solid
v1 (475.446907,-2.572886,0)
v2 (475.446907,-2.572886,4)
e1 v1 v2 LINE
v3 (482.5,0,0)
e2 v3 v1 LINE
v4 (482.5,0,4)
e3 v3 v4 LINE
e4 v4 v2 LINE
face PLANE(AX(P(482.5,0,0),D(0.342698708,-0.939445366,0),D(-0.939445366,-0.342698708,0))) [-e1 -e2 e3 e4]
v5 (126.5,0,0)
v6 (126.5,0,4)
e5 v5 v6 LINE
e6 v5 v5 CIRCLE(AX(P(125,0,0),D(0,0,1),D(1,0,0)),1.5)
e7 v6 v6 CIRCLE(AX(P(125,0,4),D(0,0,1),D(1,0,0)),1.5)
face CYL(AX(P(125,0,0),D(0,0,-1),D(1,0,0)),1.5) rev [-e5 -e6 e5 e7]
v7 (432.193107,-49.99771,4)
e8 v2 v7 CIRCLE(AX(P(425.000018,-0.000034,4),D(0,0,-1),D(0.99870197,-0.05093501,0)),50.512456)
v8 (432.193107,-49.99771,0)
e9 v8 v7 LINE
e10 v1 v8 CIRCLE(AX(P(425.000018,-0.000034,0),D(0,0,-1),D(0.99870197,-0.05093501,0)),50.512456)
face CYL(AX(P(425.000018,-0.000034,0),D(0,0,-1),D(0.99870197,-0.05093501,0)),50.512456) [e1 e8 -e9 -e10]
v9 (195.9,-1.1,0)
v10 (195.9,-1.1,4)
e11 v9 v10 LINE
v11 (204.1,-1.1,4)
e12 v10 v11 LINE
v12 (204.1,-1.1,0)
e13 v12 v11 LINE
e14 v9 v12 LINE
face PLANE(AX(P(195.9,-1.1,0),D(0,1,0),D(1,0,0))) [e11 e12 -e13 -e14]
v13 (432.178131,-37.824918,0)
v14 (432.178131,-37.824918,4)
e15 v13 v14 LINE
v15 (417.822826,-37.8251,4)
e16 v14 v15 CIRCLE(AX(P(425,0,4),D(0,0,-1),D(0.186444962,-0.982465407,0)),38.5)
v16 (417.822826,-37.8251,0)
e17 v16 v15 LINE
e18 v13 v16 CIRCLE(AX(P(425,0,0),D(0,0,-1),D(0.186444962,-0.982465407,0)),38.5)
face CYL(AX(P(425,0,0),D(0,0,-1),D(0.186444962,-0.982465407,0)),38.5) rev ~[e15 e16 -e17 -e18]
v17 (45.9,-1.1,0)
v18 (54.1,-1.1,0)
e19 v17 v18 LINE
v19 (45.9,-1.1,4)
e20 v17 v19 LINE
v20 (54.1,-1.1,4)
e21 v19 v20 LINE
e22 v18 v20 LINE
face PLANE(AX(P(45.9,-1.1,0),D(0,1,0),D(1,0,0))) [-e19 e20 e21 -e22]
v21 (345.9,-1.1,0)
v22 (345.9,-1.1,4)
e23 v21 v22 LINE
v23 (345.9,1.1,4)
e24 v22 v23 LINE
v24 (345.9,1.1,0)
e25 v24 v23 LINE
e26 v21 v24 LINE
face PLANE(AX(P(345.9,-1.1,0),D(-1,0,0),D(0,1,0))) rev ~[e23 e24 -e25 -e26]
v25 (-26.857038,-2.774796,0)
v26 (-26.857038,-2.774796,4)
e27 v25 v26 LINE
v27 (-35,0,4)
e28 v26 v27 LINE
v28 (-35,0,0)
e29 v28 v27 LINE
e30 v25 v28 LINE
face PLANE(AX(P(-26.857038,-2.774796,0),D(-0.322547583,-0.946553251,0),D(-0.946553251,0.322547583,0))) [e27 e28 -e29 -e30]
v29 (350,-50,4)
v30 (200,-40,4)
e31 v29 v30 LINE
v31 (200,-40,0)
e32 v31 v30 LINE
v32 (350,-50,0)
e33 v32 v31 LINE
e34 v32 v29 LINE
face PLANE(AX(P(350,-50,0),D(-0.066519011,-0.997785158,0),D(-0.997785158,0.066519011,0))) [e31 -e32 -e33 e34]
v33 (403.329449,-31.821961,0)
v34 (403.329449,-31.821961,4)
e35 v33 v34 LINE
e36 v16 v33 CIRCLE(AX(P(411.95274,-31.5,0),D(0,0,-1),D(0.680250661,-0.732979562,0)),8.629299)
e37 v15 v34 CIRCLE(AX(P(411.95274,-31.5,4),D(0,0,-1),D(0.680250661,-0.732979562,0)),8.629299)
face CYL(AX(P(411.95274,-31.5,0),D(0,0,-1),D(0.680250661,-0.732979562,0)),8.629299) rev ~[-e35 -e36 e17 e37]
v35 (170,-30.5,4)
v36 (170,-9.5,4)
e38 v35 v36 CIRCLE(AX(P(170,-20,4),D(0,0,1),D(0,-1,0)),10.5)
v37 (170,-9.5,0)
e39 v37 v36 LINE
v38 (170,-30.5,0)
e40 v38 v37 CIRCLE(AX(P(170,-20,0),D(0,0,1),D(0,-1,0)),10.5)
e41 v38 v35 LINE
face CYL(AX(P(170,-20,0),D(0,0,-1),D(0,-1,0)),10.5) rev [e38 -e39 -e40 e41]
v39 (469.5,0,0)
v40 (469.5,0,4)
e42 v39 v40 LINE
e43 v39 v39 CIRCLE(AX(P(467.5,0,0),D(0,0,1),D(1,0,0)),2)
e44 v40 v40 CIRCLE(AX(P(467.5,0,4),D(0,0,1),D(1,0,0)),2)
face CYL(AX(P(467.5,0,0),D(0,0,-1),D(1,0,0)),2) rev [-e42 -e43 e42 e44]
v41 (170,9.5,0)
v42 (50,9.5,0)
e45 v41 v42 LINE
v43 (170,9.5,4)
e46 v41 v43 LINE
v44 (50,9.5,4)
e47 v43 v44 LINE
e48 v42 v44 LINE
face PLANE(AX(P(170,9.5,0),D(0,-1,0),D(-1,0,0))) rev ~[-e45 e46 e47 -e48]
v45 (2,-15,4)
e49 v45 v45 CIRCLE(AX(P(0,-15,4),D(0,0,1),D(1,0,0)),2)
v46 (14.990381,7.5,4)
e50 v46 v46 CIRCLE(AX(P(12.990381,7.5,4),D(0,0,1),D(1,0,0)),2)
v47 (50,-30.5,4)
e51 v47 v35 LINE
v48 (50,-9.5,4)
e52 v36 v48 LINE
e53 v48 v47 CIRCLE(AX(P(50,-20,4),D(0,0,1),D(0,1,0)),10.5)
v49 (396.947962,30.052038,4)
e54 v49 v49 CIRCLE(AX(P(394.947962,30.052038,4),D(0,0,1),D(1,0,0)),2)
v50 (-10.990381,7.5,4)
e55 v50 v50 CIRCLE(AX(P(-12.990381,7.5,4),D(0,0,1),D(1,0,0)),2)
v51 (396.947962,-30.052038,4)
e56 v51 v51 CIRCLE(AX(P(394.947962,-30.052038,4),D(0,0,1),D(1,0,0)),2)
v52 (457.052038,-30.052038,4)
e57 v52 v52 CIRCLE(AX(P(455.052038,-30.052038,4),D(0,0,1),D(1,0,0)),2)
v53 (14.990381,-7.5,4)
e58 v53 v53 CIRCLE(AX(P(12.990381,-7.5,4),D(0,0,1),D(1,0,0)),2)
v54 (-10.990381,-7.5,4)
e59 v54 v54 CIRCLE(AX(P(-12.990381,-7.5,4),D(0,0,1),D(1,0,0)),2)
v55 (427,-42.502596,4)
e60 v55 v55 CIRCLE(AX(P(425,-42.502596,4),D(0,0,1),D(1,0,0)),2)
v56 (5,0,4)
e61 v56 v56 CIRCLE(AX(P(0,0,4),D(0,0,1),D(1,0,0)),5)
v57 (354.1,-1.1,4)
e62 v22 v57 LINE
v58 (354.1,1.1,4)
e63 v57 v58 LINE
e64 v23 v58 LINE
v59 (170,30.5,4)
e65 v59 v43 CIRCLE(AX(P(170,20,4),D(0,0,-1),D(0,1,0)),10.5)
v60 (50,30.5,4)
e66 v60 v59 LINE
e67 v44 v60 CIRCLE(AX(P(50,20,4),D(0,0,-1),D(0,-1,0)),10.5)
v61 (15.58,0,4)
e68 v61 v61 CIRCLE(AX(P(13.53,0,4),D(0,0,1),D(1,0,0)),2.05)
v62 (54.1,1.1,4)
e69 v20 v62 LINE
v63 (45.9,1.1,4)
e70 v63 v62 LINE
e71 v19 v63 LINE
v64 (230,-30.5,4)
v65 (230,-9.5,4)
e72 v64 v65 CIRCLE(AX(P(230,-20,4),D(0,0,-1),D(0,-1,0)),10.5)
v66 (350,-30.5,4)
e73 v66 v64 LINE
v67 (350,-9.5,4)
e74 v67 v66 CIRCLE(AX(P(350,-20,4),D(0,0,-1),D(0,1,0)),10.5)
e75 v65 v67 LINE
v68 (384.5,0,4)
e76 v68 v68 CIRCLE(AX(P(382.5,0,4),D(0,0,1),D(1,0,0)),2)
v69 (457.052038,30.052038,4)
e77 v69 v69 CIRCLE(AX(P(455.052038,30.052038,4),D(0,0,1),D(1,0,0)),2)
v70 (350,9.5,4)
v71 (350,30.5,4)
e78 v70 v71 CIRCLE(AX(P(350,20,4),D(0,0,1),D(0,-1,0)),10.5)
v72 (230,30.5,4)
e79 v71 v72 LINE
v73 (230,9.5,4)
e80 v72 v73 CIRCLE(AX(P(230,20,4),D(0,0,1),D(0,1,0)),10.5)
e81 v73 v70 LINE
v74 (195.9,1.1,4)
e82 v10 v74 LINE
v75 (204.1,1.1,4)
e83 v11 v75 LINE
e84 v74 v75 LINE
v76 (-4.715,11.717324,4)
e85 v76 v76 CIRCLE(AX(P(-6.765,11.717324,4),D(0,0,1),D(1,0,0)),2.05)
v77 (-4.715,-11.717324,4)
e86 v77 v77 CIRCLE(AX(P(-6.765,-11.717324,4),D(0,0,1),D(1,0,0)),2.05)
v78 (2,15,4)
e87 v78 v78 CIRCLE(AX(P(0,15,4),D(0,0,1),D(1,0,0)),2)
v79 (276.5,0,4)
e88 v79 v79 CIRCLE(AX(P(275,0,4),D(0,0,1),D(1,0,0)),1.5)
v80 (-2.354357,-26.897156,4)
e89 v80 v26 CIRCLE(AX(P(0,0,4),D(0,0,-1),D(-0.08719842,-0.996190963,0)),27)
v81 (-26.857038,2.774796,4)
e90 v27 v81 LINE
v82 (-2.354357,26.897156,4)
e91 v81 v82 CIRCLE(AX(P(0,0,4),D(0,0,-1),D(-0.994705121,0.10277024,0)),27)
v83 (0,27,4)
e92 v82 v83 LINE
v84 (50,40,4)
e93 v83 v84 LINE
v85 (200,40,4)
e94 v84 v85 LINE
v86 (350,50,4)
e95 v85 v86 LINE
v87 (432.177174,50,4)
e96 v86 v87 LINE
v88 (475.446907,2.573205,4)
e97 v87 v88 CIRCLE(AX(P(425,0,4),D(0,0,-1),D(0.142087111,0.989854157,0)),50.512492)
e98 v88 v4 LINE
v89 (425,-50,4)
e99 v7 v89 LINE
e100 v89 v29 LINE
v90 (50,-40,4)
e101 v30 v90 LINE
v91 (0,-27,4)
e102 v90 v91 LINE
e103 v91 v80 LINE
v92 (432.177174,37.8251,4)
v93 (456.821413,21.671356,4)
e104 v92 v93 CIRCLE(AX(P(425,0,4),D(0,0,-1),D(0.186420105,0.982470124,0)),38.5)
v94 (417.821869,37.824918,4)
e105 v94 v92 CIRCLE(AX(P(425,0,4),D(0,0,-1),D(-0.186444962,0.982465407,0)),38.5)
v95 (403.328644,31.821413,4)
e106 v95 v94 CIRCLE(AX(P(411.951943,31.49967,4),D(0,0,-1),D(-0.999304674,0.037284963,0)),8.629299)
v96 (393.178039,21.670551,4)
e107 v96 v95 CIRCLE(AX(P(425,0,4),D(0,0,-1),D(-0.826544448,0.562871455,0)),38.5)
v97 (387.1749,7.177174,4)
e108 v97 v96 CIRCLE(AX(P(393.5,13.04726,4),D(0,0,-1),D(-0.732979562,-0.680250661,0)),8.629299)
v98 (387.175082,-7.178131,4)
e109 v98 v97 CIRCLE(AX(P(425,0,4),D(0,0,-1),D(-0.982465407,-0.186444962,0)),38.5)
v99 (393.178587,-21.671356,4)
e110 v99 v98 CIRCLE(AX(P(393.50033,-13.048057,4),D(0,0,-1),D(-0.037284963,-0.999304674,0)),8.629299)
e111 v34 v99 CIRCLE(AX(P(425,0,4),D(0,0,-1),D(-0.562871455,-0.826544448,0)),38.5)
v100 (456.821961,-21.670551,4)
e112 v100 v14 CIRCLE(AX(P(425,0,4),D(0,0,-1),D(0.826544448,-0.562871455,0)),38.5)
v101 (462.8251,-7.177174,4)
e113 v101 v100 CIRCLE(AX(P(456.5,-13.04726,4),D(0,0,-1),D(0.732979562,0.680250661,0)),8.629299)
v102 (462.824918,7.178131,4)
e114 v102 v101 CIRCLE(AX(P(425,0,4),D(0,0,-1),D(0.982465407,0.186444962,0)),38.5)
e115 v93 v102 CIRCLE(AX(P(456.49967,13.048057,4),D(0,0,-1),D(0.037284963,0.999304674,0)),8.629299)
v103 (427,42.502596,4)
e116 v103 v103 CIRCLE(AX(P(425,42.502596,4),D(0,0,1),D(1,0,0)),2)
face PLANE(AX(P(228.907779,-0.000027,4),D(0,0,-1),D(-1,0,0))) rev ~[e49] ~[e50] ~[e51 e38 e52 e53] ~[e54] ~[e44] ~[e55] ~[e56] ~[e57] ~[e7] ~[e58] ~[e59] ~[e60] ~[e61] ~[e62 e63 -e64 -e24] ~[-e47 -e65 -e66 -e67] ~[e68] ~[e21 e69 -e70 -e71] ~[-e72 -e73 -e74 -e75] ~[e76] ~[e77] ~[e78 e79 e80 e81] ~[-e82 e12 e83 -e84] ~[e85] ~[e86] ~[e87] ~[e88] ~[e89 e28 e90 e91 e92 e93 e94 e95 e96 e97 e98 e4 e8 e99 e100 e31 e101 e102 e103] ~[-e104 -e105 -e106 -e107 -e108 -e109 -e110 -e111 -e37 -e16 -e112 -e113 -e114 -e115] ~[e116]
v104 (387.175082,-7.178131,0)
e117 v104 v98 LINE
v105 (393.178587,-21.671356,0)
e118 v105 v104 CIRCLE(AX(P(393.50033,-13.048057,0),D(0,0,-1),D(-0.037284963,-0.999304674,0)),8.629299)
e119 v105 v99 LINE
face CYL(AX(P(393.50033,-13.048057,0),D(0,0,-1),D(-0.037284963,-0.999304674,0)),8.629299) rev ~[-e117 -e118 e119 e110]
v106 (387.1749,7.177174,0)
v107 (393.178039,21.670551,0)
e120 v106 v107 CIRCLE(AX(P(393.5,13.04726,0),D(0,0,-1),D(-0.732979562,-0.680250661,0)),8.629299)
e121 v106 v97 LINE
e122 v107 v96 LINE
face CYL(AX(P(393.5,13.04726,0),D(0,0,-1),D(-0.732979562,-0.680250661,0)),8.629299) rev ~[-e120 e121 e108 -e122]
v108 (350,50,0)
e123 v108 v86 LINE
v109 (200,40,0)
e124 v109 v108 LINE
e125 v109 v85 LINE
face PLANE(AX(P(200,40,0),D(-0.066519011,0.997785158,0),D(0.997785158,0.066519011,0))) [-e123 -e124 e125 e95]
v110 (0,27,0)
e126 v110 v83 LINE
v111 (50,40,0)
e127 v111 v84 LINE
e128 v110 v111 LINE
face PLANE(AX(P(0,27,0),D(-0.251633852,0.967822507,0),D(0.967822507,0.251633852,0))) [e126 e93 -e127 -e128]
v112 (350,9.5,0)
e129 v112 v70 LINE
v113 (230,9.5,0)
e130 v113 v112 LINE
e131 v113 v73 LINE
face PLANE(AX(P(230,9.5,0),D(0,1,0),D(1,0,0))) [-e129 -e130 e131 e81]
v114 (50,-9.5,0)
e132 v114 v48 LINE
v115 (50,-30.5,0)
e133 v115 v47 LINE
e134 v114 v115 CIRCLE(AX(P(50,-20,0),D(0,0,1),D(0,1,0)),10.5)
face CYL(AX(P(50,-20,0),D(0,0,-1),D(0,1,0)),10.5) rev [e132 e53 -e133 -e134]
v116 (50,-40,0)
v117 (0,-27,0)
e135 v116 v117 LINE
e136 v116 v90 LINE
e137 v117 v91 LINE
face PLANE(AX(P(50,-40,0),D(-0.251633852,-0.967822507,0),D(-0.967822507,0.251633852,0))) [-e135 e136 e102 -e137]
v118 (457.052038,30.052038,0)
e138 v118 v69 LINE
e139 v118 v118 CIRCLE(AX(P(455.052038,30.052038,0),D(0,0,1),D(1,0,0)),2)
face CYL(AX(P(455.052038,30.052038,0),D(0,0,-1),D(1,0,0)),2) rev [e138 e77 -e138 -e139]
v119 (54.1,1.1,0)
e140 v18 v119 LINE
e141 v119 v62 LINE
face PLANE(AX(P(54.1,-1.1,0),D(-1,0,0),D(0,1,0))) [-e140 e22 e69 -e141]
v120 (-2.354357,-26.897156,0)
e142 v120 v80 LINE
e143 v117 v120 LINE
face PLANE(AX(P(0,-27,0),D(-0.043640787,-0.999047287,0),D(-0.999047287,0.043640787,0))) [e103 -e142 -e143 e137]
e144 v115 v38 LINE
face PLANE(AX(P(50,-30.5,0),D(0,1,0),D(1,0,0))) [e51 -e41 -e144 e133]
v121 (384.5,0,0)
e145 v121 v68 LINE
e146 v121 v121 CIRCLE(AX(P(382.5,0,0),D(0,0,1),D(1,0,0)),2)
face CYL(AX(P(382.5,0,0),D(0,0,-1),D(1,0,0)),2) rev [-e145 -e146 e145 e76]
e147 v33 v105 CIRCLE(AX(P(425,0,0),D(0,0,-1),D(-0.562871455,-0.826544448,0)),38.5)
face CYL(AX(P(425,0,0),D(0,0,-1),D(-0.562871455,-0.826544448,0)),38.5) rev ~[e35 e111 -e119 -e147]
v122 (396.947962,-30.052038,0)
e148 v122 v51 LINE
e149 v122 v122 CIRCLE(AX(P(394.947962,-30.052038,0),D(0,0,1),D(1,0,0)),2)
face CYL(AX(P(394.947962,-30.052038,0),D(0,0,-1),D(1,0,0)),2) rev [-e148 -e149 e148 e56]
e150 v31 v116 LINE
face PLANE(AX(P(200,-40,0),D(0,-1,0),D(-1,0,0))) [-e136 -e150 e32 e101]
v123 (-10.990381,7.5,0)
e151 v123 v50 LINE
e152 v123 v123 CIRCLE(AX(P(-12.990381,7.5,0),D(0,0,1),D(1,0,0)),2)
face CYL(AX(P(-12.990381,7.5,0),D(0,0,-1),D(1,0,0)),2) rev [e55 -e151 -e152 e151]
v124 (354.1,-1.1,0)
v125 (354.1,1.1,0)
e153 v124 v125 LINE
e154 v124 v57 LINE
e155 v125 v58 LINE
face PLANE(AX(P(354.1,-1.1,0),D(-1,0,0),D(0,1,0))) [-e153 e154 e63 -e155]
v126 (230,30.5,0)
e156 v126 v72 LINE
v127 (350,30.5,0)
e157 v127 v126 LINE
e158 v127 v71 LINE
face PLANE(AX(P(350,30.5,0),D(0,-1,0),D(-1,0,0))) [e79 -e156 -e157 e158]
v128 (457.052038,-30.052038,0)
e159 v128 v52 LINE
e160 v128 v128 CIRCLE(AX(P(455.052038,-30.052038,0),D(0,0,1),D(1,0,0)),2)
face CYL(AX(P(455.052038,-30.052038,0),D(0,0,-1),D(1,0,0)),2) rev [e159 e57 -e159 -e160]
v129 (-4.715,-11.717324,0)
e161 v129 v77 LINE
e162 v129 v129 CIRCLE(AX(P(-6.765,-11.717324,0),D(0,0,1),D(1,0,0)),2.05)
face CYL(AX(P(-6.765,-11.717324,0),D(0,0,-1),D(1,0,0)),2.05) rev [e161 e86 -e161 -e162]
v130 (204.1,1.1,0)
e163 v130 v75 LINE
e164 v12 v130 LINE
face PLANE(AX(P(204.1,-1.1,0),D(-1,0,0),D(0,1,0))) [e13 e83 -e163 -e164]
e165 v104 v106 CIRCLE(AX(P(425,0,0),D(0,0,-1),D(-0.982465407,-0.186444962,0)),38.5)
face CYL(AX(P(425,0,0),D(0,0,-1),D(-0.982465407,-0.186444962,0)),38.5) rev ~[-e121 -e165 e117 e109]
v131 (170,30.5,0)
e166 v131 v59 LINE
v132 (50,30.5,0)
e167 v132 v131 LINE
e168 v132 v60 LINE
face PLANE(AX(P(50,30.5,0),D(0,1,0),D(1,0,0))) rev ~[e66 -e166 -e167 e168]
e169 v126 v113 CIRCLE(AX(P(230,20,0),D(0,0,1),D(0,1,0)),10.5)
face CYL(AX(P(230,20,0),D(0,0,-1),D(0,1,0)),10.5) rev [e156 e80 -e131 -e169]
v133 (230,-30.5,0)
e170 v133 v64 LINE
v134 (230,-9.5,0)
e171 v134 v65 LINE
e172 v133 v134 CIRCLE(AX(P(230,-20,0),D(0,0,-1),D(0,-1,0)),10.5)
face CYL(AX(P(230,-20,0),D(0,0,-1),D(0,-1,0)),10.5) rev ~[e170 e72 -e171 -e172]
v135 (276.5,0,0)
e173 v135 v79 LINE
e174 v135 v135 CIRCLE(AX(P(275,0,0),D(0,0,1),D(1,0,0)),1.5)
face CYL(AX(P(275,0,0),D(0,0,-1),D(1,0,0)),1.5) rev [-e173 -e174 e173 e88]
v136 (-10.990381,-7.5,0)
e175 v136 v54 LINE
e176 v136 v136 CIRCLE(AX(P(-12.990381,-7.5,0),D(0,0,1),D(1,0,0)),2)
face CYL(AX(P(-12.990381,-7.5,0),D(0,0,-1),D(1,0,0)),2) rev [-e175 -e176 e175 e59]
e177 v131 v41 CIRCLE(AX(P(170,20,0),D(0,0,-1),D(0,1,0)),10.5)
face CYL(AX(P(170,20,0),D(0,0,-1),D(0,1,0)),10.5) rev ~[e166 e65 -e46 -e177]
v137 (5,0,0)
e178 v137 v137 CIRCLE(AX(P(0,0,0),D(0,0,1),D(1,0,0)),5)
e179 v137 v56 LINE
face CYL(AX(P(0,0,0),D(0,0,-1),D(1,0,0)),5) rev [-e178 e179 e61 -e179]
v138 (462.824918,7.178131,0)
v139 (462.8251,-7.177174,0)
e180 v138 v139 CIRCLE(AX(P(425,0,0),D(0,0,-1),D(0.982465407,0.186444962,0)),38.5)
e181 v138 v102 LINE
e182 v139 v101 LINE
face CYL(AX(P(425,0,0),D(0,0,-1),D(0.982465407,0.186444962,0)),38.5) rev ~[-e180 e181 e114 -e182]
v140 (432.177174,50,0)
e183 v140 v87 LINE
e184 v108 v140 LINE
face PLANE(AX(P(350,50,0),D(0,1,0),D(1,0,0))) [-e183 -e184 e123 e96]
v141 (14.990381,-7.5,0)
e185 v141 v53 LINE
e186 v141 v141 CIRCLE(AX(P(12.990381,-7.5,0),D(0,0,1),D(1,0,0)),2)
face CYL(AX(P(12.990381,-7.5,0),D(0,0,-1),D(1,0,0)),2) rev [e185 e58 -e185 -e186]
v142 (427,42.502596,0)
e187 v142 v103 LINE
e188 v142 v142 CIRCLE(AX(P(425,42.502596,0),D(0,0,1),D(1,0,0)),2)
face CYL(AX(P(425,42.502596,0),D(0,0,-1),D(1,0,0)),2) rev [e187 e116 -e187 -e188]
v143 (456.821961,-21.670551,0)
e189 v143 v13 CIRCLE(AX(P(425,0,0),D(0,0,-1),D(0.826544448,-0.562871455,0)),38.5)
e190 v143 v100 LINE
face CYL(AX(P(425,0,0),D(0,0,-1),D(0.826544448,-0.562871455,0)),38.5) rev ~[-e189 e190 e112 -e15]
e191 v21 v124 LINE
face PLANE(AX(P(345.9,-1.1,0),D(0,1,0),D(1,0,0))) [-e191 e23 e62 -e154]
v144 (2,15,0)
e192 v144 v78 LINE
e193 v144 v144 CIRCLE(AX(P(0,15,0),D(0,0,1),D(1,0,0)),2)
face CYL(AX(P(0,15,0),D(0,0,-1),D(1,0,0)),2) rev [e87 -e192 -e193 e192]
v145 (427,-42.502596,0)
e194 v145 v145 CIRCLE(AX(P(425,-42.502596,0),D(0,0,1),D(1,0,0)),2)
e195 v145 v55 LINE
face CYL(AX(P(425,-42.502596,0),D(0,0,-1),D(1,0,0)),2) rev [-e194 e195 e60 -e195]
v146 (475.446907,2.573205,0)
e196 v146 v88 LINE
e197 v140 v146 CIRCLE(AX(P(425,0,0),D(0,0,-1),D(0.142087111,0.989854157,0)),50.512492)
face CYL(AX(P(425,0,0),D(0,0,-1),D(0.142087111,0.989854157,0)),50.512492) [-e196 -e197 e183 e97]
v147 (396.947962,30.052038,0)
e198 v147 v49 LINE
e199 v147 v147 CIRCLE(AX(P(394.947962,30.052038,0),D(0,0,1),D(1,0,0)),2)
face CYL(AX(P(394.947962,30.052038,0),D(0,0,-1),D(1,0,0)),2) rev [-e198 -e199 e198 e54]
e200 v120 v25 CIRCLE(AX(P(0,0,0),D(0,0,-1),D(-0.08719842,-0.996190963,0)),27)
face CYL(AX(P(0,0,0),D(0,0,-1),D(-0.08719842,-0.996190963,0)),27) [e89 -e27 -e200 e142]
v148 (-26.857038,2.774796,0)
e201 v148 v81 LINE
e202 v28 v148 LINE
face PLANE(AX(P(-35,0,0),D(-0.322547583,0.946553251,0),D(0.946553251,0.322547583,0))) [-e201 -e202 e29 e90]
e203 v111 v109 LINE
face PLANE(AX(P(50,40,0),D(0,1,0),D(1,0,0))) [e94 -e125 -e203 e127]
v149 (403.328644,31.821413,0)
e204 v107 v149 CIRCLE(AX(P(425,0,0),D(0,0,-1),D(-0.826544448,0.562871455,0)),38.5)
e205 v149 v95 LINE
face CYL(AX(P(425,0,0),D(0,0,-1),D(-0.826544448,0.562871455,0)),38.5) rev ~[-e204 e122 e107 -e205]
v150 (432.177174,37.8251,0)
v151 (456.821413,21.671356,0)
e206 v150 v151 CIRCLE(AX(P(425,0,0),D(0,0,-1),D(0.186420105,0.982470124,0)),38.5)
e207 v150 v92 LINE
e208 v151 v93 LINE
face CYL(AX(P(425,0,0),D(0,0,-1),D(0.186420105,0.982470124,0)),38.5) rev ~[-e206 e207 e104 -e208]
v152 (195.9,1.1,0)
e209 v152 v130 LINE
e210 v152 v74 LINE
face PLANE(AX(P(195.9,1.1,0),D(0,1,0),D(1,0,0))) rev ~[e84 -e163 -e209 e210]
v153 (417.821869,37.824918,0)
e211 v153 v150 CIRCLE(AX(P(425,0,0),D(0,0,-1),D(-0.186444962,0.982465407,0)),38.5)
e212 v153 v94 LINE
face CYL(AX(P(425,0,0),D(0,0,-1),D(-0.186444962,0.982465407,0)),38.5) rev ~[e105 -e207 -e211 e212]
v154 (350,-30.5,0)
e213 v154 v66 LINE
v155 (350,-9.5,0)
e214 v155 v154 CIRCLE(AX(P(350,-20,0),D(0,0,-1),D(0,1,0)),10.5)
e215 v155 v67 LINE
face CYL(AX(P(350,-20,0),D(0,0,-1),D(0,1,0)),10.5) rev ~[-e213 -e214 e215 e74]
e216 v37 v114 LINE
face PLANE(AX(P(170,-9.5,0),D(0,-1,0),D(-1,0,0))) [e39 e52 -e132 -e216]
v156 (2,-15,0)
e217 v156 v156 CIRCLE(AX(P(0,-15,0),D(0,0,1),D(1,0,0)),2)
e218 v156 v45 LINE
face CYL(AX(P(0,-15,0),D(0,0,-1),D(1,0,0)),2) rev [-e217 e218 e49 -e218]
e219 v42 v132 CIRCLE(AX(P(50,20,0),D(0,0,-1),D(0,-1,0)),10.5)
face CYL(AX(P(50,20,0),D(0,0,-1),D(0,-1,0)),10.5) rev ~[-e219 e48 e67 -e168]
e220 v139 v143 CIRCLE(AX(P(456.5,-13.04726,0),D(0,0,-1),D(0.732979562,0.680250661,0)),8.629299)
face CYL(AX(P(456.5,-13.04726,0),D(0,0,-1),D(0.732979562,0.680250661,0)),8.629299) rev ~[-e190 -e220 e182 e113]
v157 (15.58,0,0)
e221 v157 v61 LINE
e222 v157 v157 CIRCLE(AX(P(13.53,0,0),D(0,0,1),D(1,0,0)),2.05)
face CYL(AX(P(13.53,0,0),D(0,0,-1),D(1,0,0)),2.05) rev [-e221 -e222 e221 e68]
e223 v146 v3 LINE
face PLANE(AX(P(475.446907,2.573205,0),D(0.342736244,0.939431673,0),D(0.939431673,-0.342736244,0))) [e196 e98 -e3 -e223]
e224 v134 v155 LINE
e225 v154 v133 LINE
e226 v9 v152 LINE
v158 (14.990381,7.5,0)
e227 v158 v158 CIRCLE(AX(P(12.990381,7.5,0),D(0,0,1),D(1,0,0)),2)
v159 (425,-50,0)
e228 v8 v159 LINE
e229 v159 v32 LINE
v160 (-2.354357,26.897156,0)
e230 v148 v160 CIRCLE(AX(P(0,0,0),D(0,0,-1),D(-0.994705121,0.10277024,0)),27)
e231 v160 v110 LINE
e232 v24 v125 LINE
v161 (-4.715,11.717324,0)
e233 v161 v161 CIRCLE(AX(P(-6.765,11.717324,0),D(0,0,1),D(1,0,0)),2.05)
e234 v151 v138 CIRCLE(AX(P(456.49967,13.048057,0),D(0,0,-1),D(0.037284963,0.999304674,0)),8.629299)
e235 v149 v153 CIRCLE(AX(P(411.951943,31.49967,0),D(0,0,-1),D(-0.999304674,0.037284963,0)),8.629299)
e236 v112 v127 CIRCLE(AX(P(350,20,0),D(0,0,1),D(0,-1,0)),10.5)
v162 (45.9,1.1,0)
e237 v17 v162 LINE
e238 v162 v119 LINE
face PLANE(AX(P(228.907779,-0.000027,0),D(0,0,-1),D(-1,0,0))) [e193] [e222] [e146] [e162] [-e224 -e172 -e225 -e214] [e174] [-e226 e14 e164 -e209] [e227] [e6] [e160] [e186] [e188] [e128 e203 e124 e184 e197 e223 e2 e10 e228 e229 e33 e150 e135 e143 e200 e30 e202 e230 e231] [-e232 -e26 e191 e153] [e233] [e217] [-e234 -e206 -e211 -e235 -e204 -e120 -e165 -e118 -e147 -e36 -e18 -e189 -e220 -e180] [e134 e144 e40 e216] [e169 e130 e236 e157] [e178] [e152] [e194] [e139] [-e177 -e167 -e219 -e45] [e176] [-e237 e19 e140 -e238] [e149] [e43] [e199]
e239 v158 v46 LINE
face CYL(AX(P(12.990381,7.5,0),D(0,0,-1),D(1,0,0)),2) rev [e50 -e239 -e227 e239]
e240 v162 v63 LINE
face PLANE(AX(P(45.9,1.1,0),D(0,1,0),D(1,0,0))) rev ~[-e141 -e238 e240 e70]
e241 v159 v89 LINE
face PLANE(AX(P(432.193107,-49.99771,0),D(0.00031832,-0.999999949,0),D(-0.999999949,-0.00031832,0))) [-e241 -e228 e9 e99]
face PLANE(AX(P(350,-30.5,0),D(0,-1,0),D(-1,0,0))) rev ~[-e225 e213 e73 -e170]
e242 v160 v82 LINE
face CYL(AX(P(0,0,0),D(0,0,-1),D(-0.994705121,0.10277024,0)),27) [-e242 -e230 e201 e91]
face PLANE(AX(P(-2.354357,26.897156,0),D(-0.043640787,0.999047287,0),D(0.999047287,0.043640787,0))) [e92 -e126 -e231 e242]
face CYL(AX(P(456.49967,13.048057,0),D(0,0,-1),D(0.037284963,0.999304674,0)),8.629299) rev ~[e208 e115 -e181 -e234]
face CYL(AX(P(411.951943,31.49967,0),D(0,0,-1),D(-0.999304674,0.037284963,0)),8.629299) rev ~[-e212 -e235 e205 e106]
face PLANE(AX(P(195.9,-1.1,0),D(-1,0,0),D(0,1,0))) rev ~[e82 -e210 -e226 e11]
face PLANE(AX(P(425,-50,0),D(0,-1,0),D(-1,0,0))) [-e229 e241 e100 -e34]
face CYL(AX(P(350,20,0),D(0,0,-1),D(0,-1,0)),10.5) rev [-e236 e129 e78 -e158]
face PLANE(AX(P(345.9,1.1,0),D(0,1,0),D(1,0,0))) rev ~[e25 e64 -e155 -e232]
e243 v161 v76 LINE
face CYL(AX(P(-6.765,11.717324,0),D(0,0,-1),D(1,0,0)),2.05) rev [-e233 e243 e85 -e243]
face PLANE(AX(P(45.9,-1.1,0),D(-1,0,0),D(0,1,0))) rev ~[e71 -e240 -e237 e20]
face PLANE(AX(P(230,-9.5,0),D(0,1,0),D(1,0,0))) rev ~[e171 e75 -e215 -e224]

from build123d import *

# Parameters (mm, degrees)
SKETCH_1_R      = 2
SKETCH_1_R_2    = 2.05
SKETCH_1_R_3    = 5
SKETCH_1_R_4    = 1.5
SKETCH_1_W      = 8.2
SKETCH_1_H      = 2.2
EXTRUDE_1_DEPTH = 4


with BuildPart() as part:
    # 草图1 → 凸台-拉伸1 (new body)
    with BuildSketch(Plane.XY):
        with BuildLine():
            Line((0, 27), (50, 40))
            Line((50, 40), (200, 40))
            Line((200, 40), (350, 50))
            Line((350, 50), (425, 50))
            Line((425, 50), (432.177174038, 50))
            ThreePointArc((432.177174038, 50), (462.315665579, 34.04486642), (475.446907157, 2.573205287))
            Line((475.446907157, 2.573205287), (482.5, 0))
            Line((482.5, 0), (475.446907157, -2.572885974))
            ThreePointArc((475.446907157, -2.572885974), (462.321199465, -34.038799886), (432.193107325, -49.997710289))
            Line((432.193107325, -49.997710289), (425, -50))
            Line((425, -50), (350, -50))
            Line((350, -50), (200, -40))
            Line((200, -40), (50, -40))
            Line((50, -40), (0, -27))
            Line((0, -27), (-2.35435733, -26.897156013))
            ThreePointArc((-2.35435733, -26.897156013), (-18.941976287, -19.240621984), (-26.857038268, -2.774796472))
            Line((-26.857038268, -2.774796472), (-35, 0))
            Line((-35, 0), (-26.857038268, 2.774796472))
            ThreePointArc((-26.857038268, 2.774796472), (-18.941976287, 19.240621984), (-2.35435733, 26.897156013))
            Line((-2.35435733, 26.897156013), (0, 27))
        make_face()
        with Locations((0, -15)):
            Circle(SKETCH_1_R, mode=Mode.SUBTRACT)
        with Locations((-12.990381057, -7.5)):
            Circle(SKETCH_1_R, mode=Mode.SUBTRACT)
        with Locations((-12.990381057, 7.5)):
            Circle(SKETCH_1_R, mode=Mode.SUBTRACT)
        with Locations((0, 15)):
            Circle(SKETCH_1_R, mode=Mode.SUBTRACT)
        with Locations((12.990381057, 7.5)):
            Circle(SKETCH_1_R, mode=Mode.SUBTRACT)
        with Locations((12.990381057, -7.5)):
            Circle(SKETCH_1_R, mode=Mode.SUBTRACT)
        with Locations((13.53, 0)):
            Circle(SKETCH_1_R_2, mode=Mode.SUBTRACT)
        with Locations((-6.765, -11.717323713)):
            Circle(SKETCH_1_R_2, mode=Mode.SUBTRACT)
        with Locations((-6.765, 11.717323713)):
            Circle(SKETCH_1_R_2, mode=Mode.SUBTRACT)
        Circle(SKETCH_1_R_3, mode=Mode.SUBTRACT)
        with Locations((394.9479618, -30.0520382)):
            Circle(SKETCH_1_R, mode=Mode.SUBTRACT)
        with Locations((382.5, 0)):
            Circle(SKETCH_1_R, mode=Mode.SUBTRACT)
        with Locations((275, 0)):
            Circle(SKETCH_1_R_4, mode=Mode.SUBTRACT)
        with Locations((125, 0)):
            Circle(SKETCH_1_R_4, mode=Mode.SUBTRACT)
        with Locations((467.5, 0)):
            Circle(SKETCH_1_R, mode=Mode.SUBTRACT)
        with Locations((455.0520382, -30.0520382)):
            Circle(SKETCH_1_R, mode=Mode.SUBTRACT)
        with Locations((455.0520382, 30.0520382)):
            Circle(SKETCH_1_R, mode=Mode.SUBTRACT)
        with Locations((394.9479618, 30.0520382)):
            Circle(SKETCH_1_R, mode=Mode.SUBTRACT)
        with Locations((425, 42.502596008)):
            Circle(SKETCH_1_R, mode=Mode.SUBTRACT)
        with Locations((425, -42.502596008)):
            Circle(SKETCH_1_R, mode=Mode.SUBTRACT)
        with Locations((200, 0)):
            Rectangle(SKETCH_1_W, SKETCH_1_H, mode=Mode.SUBTRACT)
        with Locations((50, 0)):
            Rectangle(SKETCH_1_W, SKETCH_1_H, mode=Mode.SUBTRACT)
        with Locations((350, 0)):
            Rectangle(SKETCH_1_W, SKETCH_1_H, mode=Mode.SUBTRACT)
        with BuildLine():
            Line((50, 30.5), (170, 30.5))
            ThreePointArc((170, 30.5), (180.5, 20), (170, 9.5))
            Line((170, 9.5), (50, 9.5))
            ThreePointArc((50, 9.5), (39.5, 20), (50, 30.5))
        make_face(mode=Mode.SUBTRACT)
        with BuildLine():
            Line((350, 30.5), (230, 30.5))
            ThreePointArc((230, 30.5), (219.5, 20), (230, 9.5))
            Line((230, 9.5), (350, 9.5))
            ThreePointArc((350, 9.5), (360.5, 20), (350, 30.5))
        make_face(mode=Mode.SUBTRACT)
        with BuildLine():
            Line((50, -30.5), (170, -30.5))
            ThreePointArc((170, -30.5), (180.5, -20), (170, -9.5))
            Line((170, -9.5), (50, -9.5))
            ThreePointArc((50, -9.5), (39.5, -20), (50, -30.5))
        make_face(mode=Mode.SUBTRACT)
        with BuildLine():
            Line((350, -30.5), (230, -30.5))
            ThreePointArc((230, -30.5), (219.5, -20), (230, -9.5))
            Line((230, -9.5), (350, -9.5))
            ThreePointArc((350, -9.5), (360.5, -20), (350, -30.5))
        make_face(mode=Mode.SUBTRACT)
        with BuildLine():
            ThreePointArc((456.82141298, 21.671356116), (464.472060808, 16.350447926), (462.824918175, 7.178131028))
            ThreePointArc((462.824918175, 7.178131028), (463.499999997, 0.000487034), (462.825099773, -7.177174038))
            ThreePointArc((462.825099773, -7.177174038), (464.472474468, -16.34944926), (456.821961265, -21.670551014))
            ThreePointArc((456.821961265, -21.670551014), (446.106697854, -32.198715901), (432.178131028, -37.824918175))
            ThreePointArc((432.178131028, -37.824918175), (425.000487034, -38.499999997), (417.822825962, -37.825099773))
            ThreePointArc((417.822825962, -37.825099773), (408.65055074, -39.472474468), (403.329448986, -31.821961265))
            ThreePointArc((403.329448986, -31.821961265), (397.776733311, -27.223955458), (393.17858702, -21.671356116))
            ThreePointArc((393.17858702, -21.671356116), (385.527939192, -16.350447926), (387.175081825, -7.178131028))
            ThreePointArc((387.175081825, -7.178131028), (386.500000003, -0.000487034), (387.174900227, 7.177174038))
            ThreePointArc((387.174900227, 7.177174038), (385.527525532, 16.34944926), (393.178038735, 21.670551014))
            ThreePointArc((393.178038735, 21.670551014), (397.776044542, 27.223266689), (403.328643884, 31.82141298))
            ThreePointArc((403.328643884, 31.82141298), (408.649552074, 39.472060808), (417.821868972, 37.824918175))
            ThreePointArc((417.821868972, 37.824918175), (424.999512966, 38.499999997), (432.177174038, 37.825099773))
            ThreePointArc((432.177174038, 37.825099773), (446.105883206, 32.1992499), (456.82141298, 21.671356116))
        make_face(mode=Mode.SUBTRACT)
    extrude(amount=EXTRUDE_1_DEPTH)


solid = part.part
